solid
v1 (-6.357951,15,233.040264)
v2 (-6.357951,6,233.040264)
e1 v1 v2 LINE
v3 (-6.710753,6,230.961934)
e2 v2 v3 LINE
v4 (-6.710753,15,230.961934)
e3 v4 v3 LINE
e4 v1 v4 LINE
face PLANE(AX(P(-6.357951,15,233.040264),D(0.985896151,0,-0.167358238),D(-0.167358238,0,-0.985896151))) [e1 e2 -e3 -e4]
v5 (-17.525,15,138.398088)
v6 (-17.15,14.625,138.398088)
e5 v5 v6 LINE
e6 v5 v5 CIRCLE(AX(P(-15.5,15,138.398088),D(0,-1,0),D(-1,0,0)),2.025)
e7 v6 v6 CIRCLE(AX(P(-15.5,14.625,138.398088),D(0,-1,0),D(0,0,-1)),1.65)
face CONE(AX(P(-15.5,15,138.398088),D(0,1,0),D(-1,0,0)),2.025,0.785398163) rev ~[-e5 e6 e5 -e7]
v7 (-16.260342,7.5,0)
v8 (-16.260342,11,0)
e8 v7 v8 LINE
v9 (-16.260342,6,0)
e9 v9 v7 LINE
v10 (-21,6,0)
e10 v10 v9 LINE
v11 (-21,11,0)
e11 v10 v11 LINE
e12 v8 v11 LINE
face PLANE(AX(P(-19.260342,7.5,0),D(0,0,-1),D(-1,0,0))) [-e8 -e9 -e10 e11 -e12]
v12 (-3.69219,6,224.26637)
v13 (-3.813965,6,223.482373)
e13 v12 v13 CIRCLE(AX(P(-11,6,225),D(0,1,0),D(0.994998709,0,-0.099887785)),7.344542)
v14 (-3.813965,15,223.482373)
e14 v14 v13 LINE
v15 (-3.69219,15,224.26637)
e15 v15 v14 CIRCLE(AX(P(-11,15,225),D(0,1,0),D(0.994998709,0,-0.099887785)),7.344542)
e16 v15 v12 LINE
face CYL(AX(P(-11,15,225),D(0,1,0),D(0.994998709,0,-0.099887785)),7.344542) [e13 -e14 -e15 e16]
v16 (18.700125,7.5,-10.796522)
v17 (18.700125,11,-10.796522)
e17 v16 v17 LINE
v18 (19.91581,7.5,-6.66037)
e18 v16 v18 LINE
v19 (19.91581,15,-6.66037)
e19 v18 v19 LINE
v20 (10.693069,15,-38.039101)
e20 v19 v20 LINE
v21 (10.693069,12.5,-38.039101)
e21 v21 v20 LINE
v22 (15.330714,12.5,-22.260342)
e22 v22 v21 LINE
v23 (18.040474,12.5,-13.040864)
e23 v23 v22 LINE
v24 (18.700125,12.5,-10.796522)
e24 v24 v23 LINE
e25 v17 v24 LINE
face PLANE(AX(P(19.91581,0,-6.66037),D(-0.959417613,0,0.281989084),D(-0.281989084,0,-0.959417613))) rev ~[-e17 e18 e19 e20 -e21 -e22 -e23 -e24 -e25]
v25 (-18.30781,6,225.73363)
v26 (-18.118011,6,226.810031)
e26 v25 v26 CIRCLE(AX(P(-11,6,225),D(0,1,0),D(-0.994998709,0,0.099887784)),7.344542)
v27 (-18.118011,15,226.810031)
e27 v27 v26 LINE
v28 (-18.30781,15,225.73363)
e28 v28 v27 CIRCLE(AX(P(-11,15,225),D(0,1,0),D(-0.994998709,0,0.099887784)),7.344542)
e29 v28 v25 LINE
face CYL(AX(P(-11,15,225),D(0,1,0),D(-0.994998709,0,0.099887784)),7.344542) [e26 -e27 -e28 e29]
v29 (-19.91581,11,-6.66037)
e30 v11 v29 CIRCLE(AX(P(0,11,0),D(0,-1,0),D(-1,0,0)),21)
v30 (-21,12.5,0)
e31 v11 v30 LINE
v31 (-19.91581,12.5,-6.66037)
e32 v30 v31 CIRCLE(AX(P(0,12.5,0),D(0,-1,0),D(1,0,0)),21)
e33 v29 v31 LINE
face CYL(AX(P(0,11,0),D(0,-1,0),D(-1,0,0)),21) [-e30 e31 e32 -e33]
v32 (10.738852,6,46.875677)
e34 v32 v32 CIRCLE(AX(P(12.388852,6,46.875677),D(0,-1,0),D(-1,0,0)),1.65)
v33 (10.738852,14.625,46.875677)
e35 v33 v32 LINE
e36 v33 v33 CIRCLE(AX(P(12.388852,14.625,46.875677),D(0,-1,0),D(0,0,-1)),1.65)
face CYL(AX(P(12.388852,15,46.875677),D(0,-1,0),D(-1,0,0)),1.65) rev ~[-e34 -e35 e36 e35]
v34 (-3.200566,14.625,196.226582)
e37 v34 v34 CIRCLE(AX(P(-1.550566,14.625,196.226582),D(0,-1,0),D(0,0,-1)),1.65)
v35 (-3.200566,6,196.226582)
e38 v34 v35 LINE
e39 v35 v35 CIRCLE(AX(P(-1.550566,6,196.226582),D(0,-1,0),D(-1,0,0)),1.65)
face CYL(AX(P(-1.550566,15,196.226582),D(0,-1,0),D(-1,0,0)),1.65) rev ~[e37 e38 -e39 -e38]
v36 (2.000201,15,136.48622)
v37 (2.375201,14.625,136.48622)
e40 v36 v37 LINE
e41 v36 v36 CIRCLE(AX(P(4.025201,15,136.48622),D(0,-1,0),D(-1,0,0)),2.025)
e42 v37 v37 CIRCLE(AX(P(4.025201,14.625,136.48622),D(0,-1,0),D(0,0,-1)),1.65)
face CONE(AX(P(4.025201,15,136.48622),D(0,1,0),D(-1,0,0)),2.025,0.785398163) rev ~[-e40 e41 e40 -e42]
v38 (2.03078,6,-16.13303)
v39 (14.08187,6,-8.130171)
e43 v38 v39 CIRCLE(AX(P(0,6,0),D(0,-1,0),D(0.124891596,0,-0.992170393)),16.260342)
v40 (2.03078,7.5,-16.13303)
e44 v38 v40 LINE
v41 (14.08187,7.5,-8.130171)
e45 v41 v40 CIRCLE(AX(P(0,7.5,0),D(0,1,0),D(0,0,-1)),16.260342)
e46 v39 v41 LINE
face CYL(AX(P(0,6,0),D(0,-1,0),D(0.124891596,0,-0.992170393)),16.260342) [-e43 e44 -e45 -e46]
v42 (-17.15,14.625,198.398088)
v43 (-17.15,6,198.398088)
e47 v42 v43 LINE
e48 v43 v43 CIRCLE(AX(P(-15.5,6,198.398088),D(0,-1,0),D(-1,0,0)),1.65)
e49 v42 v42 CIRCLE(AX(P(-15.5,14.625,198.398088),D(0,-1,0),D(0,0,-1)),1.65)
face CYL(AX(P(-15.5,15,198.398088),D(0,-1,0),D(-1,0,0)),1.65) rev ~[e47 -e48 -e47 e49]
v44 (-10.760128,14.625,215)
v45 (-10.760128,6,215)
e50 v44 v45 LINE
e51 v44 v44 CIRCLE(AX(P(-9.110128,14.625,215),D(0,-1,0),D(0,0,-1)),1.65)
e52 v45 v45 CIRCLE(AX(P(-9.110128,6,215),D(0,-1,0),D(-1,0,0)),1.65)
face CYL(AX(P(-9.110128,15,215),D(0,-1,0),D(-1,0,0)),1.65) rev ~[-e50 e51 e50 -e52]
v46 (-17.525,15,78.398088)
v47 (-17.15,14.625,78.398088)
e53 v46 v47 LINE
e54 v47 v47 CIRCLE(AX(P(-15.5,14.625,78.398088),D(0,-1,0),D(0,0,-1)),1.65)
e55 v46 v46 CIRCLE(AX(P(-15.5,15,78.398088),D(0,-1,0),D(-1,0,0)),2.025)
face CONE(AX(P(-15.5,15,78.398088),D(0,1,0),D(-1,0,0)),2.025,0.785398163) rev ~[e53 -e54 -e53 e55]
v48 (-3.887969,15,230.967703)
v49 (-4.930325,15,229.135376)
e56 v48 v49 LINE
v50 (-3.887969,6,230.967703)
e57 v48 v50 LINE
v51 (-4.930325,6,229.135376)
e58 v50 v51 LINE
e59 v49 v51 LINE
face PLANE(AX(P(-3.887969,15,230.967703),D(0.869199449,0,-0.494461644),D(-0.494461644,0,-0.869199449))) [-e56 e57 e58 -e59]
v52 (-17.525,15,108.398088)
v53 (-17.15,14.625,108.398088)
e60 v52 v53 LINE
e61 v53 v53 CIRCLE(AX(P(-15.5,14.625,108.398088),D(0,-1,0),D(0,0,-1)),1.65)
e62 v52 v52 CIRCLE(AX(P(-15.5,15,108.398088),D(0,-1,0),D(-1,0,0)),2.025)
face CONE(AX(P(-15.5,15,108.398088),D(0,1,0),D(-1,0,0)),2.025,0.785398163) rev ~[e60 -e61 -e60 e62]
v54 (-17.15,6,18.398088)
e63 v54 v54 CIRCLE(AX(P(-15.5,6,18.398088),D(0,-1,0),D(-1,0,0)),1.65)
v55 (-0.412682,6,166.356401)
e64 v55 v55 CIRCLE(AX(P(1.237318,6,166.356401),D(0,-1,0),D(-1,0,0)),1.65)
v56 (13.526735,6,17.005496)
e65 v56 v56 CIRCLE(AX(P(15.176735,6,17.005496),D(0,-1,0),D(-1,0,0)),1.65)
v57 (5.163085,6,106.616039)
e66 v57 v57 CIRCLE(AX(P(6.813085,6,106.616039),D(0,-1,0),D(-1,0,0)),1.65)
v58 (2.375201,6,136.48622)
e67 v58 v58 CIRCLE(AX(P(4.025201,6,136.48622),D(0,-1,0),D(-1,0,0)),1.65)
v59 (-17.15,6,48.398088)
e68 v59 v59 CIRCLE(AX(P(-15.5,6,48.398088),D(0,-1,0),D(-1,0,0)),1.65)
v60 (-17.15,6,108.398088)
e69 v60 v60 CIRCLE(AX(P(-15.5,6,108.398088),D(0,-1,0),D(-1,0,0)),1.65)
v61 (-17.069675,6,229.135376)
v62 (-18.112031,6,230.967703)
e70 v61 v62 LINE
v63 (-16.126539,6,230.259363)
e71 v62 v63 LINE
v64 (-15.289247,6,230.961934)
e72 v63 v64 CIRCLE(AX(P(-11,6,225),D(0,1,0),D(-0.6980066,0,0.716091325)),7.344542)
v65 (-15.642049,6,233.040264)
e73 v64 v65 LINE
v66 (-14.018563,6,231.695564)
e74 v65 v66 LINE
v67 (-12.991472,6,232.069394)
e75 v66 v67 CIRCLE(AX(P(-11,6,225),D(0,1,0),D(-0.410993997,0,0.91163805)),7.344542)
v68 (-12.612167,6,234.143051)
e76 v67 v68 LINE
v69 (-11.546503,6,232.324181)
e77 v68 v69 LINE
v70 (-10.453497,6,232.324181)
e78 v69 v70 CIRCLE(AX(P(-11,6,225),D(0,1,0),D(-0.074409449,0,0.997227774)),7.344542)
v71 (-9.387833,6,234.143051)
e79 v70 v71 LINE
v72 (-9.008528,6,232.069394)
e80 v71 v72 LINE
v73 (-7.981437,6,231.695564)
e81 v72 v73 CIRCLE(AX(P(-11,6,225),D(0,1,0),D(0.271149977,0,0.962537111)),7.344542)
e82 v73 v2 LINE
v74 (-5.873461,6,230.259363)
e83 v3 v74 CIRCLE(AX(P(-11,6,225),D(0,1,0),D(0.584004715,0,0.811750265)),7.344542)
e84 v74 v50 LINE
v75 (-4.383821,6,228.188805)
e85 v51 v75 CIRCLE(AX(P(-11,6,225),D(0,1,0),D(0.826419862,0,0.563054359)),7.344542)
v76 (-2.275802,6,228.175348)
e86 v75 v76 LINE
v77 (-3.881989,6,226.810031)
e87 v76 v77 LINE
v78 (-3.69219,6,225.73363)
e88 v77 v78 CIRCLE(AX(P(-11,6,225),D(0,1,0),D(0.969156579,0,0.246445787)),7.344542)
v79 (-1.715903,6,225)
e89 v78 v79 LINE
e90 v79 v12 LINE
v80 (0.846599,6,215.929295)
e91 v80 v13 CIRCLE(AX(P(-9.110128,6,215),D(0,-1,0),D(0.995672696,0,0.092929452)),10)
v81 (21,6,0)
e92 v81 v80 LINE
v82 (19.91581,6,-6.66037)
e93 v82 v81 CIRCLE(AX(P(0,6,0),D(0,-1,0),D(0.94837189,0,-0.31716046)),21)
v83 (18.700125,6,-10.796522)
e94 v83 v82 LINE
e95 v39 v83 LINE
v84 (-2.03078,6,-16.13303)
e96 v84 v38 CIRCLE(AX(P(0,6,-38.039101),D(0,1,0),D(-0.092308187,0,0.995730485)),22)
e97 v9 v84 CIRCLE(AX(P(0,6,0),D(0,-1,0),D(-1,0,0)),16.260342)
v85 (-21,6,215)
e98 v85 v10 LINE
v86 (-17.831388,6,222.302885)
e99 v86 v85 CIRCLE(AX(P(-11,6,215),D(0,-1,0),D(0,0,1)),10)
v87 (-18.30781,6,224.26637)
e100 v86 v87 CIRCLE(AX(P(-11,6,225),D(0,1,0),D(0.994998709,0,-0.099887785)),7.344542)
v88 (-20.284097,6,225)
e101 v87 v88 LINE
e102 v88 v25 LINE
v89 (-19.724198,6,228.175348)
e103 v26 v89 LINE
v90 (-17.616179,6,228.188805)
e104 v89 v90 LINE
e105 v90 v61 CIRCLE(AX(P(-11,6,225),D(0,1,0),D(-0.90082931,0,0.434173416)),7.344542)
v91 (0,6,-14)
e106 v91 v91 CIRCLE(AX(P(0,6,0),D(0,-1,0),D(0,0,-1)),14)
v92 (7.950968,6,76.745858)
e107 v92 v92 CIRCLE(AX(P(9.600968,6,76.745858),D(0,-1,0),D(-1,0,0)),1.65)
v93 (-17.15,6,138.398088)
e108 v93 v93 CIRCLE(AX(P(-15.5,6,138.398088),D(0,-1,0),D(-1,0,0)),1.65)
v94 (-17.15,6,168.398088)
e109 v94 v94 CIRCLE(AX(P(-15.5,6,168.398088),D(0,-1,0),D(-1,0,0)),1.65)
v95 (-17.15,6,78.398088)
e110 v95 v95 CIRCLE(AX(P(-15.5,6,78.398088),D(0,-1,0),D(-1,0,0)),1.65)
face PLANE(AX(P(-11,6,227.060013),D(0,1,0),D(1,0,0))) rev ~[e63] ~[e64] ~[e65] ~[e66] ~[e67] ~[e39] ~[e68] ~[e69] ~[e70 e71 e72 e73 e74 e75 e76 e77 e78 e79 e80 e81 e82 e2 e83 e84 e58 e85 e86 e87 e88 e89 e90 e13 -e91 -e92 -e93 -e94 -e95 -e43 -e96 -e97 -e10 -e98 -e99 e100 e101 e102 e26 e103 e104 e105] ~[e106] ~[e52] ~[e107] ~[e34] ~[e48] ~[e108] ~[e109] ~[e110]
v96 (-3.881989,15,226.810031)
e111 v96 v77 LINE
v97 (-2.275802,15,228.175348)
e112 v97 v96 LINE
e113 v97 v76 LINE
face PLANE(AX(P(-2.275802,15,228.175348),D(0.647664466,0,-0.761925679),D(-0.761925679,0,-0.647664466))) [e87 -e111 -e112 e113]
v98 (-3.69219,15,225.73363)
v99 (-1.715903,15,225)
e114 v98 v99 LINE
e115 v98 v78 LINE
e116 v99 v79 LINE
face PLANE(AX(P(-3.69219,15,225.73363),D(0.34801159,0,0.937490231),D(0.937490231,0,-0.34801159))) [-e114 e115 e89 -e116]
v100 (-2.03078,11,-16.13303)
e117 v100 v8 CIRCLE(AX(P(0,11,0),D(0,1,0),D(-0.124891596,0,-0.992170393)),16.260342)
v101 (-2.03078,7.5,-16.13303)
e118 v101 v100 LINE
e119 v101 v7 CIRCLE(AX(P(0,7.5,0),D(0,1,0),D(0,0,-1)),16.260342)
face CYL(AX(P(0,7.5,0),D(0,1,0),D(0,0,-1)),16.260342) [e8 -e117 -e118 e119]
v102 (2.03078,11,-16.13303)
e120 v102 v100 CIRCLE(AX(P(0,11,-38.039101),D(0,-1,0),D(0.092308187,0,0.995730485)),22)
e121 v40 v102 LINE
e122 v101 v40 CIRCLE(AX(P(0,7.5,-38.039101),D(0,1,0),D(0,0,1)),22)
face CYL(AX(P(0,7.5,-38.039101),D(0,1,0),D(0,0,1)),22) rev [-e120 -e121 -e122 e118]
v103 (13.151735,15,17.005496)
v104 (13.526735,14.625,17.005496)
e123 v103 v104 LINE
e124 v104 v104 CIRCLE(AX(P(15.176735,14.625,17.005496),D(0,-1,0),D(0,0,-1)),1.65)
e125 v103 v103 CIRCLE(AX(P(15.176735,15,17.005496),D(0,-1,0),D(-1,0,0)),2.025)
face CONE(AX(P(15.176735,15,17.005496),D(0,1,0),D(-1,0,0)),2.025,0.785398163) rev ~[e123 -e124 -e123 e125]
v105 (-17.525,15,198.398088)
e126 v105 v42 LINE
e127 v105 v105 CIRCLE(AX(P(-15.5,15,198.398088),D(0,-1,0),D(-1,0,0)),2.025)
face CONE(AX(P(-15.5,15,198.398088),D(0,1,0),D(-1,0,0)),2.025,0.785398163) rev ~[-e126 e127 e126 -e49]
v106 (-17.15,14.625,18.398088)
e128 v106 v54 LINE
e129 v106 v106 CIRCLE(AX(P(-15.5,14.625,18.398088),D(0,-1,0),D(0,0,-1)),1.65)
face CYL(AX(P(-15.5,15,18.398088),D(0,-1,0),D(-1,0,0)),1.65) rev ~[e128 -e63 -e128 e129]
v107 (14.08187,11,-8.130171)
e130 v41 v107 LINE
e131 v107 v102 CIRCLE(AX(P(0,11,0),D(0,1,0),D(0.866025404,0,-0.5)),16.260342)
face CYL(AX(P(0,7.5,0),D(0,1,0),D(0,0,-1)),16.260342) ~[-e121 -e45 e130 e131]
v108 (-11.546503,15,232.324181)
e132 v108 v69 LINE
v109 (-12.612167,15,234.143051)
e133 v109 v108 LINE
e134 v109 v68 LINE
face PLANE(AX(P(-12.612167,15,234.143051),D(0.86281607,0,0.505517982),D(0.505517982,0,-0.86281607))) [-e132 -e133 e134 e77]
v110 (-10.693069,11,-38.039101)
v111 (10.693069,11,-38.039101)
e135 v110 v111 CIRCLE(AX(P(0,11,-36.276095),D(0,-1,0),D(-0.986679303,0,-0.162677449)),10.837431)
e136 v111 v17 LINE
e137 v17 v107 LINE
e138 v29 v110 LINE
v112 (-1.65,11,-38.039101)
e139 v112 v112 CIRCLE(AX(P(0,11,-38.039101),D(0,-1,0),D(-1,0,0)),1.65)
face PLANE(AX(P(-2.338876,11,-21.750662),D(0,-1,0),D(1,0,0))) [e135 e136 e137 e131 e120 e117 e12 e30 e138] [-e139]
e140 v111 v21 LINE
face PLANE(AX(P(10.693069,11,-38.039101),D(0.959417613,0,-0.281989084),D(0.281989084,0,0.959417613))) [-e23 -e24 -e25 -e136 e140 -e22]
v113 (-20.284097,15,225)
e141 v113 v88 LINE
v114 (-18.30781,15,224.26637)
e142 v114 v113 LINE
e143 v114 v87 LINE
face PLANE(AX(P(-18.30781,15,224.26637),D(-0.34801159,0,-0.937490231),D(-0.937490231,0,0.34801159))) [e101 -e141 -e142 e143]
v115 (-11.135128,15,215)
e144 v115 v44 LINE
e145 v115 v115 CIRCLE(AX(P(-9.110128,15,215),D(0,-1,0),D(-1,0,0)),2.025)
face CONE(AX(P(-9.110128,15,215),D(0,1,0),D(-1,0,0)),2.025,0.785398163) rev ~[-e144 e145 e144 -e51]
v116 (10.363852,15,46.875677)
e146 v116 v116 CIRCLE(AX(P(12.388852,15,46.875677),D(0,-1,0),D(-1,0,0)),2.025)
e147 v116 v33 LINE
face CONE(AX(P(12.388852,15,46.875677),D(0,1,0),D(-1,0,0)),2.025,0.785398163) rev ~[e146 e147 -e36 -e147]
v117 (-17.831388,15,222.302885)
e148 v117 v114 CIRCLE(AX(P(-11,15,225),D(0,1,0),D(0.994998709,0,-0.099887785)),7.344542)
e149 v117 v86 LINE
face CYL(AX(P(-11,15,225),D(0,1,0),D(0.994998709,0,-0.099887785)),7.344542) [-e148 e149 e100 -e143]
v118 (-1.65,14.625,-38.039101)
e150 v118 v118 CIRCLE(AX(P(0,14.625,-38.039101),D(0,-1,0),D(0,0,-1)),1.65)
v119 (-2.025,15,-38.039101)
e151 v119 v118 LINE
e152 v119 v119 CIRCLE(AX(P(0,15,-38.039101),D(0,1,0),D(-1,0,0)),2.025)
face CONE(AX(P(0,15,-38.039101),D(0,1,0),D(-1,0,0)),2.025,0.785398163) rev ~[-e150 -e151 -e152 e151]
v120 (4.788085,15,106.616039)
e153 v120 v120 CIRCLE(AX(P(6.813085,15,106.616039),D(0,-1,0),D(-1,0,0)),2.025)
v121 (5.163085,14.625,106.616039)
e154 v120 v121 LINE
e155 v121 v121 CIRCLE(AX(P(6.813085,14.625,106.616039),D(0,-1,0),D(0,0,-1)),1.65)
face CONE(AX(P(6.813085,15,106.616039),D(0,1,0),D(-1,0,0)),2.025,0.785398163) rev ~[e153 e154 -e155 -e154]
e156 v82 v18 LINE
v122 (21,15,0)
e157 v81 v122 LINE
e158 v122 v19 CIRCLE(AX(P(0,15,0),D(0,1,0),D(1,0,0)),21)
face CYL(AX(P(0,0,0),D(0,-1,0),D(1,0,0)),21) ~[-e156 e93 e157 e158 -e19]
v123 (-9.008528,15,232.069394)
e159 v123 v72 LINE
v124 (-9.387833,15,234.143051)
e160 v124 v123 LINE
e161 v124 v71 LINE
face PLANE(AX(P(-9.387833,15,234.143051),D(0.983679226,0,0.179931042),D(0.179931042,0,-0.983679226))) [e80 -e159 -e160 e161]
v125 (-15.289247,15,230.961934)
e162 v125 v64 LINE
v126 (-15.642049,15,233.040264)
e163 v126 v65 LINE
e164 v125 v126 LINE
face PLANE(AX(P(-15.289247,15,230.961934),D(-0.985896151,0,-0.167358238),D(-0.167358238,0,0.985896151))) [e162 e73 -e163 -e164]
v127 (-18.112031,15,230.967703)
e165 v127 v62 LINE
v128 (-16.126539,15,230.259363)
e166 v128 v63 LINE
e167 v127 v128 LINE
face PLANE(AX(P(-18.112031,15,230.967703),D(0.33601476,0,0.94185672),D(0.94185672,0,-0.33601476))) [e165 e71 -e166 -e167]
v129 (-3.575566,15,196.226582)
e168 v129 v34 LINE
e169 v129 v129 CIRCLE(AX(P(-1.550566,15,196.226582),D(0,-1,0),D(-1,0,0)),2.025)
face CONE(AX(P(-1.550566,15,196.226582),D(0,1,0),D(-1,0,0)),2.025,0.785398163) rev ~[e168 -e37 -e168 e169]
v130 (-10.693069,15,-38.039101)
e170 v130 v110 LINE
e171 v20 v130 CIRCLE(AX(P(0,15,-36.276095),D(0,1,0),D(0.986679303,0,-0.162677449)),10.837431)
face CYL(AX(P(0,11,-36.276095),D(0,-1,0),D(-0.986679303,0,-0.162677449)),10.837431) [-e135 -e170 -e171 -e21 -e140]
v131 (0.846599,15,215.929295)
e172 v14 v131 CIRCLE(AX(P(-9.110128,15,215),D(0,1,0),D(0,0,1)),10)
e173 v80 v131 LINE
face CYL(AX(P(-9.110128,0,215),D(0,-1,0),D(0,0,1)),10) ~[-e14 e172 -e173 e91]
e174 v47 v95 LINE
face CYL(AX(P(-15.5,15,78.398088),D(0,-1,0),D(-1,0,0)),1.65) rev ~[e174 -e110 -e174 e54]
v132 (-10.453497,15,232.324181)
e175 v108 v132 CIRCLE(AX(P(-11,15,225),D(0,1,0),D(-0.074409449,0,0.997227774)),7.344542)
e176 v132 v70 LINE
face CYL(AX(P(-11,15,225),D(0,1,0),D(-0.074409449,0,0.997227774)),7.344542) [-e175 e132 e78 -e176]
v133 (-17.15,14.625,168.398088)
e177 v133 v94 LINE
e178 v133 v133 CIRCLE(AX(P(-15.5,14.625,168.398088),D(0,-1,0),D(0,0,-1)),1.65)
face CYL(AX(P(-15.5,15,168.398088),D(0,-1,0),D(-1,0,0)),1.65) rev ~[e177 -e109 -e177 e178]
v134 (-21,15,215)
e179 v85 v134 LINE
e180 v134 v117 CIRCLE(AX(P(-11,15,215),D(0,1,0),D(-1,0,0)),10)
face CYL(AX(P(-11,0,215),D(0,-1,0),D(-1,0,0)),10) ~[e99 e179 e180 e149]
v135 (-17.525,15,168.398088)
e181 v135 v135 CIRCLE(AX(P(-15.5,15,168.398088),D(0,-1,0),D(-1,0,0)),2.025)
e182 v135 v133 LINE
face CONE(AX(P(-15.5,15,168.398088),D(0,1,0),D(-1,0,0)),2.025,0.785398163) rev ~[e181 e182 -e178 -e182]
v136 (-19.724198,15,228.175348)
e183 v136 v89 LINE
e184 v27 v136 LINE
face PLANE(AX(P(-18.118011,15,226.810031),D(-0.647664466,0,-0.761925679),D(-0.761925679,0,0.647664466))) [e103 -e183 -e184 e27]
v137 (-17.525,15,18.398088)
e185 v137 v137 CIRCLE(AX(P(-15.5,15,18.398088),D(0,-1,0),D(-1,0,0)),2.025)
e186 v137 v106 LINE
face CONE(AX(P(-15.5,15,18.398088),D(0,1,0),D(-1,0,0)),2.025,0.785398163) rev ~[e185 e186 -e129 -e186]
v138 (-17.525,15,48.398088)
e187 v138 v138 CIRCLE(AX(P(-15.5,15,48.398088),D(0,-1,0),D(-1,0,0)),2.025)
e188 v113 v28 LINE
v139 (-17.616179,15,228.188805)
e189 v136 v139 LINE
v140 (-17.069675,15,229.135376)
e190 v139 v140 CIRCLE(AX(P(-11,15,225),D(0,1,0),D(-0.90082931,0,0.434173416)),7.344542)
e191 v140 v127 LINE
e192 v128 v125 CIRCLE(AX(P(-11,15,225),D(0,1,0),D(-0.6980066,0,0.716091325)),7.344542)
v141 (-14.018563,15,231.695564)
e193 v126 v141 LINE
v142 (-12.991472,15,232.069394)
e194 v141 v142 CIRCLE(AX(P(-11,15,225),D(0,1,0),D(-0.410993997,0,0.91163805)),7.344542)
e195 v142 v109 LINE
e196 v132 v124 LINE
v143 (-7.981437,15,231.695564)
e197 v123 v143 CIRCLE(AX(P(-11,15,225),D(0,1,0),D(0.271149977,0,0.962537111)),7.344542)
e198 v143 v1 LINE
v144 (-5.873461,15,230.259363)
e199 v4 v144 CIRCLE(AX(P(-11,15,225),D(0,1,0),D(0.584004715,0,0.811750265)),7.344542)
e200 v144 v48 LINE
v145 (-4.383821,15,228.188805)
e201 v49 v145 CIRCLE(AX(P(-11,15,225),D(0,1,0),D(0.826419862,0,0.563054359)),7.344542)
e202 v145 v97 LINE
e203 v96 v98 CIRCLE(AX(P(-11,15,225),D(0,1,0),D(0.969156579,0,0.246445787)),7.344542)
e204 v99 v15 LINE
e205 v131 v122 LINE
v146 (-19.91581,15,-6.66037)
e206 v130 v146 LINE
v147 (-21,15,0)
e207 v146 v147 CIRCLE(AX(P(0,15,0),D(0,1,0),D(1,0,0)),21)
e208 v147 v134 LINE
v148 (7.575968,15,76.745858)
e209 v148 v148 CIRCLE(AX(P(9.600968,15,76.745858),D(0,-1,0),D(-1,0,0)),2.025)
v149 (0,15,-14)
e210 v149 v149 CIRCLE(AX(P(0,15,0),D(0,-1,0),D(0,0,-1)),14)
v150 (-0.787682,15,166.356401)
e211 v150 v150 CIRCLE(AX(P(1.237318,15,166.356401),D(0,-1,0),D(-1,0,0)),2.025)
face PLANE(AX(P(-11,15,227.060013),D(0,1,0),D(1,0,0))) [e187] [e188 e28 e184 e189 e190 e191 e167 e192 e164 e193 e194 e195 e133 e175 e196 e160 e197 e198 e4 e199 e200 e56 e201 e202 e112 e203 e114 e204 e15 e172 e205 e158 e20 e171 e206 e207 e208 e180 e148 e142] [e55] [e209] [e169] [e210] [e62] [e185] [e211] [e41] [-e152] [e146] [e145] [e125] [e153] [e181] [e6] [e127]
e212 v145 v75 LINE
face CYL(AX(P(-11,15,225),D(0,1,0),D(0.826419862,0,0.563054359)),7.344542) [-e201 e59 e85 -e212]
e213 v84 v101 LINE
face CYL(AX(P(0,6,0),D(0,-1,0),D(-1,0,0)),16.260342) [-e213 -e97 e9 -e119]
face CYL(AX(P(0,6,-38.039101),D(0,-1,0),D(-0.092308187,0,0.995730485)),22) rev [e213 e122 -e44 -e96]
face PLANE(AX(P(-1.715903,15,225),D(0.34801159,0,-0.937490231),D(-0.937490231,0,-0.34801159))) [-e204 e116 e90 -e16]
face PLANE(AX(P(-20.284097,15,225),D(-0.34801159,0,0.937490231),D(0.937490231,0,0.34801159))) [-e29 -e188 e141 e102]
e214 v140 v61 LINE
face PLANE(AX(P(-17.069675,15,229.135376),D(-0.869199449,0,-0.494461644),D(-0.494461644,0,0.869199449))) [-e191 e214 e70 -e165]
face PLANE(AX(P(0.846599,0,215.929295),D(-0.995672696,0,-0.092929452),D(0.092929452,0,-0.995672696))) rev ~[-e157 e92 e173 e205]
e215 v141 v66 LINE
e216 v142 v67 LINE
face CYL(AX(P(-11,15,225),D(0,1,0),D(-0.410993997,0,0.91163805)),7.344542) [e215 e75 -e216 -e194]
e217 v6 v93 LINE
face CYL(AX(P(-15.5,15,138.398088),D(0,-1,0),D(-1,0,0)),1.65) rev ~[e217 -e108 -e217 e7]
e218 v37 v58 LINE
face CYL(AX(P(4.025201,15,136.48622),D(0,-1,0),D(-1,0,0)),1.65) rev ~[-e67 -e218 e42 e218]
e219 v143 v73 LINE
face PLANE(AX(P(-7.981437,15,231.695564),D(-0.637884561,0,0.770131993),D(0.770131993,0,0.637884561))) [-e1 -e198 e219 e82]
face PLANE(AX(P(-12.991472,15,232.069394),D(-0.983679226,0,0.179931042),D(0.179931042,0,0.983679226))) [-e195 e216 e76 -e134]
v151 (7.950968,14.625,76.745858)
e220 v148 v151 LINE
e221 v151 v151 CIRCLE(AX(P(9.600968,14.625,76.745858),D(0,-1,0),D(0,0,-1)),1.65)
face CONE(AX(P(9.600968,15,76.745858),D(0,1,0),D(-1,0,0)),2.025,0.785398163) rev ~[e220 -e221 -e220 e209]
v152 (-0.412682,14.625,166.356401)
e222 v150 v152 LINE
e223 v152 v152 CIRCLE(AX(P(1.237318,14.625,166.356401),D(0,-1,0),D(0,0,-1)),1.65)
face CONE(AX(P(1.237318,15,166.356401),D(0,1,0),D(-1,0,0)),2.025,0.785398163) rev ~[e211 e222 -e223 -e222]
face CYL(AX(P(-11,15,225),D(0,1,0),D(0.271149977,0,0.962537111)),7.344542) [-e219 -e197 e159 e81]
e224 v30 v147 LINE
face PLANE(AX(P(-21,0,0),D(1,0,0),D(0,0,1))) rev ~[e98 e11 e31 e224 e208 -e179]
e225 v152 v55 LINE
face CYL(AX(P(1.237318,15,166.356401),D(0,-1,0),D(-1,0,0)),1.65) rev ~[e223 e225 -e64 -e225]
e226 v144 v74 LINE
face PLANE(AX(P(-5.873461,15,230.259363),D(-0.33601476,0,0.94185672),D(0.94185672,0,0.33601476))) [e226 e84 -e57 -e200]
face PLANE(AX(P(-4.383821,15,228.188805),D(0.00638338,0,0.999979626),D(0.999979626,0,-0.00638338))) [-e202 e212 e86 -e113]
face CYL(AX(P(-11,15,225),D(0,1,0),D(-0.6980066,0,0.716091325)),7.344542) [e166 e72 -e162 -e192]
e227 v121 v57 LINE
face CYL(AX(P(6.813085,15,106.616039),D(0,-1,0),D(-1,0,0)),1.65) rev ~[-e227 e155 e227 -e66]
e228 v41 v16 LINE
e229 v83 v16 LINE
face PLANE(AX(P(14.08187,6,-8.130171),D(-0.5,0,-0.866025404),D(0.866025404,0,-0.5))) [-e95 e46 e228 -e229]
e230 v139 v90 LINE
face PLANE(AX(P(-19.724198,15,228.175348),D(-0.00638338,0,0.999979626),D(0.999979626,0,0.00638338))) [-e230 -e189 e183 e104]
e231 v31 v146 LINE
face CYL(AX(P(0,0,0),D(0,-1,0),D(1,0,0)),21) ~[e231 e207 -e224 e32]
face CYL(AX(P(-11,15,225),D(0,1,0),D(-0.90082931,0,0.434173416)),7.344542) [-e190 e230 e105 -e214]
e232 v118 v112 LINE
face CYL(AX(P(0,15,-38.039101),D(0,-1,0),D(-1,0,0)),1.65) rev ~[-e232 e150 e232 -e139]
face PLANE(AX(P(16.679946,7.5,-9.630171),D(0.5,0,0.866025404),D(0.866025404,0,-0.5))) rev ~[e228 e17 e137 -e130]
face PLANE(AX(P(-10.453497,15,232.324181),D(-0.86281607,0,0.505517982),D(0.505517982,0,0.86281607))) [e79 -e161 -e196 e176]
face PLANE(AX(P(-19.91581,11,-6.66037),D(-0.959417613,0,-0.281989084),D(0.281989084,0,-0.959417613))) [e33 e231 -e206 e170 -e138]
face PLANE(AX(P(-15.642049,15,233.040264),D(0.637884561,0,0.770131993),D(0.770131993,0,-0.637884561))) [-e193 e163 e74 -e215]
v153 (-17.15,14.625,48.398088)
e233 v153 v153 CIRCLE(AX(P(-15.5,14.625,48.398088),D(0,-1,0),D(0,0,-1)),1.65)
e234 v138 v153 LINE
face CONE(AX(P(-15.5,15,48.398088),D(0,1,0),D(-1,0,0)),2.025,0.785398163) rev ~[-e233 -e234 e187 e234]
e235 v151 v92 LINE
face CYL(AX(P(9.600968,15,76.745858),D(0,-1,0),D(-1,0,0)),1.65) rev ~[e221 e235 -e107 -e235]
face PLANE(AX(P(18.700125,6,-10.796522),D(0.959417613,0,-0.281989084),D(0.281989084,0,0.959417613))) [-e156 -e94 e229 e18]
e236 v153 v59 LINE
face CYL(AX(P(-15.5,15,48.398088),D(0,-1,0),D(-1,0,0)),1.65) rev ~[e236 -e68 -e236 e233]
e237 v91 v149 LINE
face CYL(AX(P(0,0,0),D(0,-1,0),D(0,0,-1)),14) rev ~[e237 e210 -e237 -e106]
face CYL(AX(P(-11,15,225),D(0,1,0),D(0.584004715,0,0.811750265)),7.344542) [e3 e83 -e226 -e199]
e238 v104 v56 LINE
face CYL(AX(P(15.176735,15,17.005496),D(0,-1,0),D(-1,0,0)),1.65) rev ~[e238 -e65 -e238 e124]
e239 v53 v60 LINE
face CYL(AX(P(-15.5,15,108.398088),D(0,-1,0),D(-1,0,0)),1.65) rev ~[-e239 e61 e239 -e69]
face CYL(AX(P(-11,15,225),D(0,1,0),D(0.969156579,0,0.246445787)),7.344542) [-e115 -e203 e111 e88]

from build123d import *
from build123d.topology import SkipClean

# Parameters (mm, degrees)
EXTRUDE_1_DEPTH               = 15
CUT_EXTRUDE_1_DEPTH           = 4
SKETCH_3_R                    = 14
CUT_EXTRUDE_2_DEPTH           = 227.475164201
EXTRUDE_4_DEPTH               = 15
SKETCH_11_W                   = 17
SKETCH_11_H                   = 10
SKETCH_14_W                   = 6
SKETCH_14_H                   = 10
CUT_REVOLVE_4_ANGLE           = 60
CUT_REVOLVE_4_OTHER_WAY_ANGLE = 90
SKETCH_16_W                   = 9.609453317
SKETCH_16_H                   = 10
CUT_EXTRUDE_4_DEPTH           = 5
SKETCH_17_W                   = 9.609453317
SKETCH_17_H                   = 10
CUT_EXTRUDE_5_DEPTH           = 5
CUT_EXTRUDE_6_DEPTH           = 7.5
EXTRUDE_START                 = 1.5
EXTRUDE_6_DEPTH               = 1.5
SKETCH_21_R                   = 5
SKETCH_21_R_2                 = 14
EXTRUDE_7_DEPTH               = 1.5
HOLE_WIZARD_M4_1_D            = 3.3
HOLE_WIZARD_M4_1_DEPTH        = 9
HOLE_WIZARD_M4_1_CSINK_D      = 4.05
HOLE_WIZARD_M4_1_CSINK_ANGLE  = 90
SKETCH_25_R                   = 5
CUT_EXTRUDE_7_DEPTH           = 5
EXTRUDE_8_DEPTH               = 9


with BuildPart() as part:
    # 草图1 → 凸台-拉伸1 (new body)
    with BuildSketch(Plane(origin=(0, 0, 0), x_dir=(1, 0, 0), z_dir=(0, 1, 0))):
        with BuildLine():
            Line((-21, 0), (-21, -215))
            ThreePointArc((-21, -215), (-18.071067812, -222.071067812), (-11, -225))
            Line((-11, -225), (-9.110127779, -225))
            ThreePointArc((-9.110127779, -225), (-2.375625019, -222.392325249), (0.846599179, -215.929294516))
            Line((0.846599179, -215.929294516), (21, 0))
            ThreePointArc((21, 0), (0, 21), (-21, 0))
        make_face()
    extrude(amount=EXTRUDE_1_DEPTH)

    # 草图2 → 切除-拉伸1 (cut)
    with BuildSketch(Plane.XZ):
        with BuildLine():
            Line((-6.487547308, 24.545681698), (-15.16946684, 197.954199749))
            ThreePointArc((-15.16946684, 197.954199749), (-9.006726896, 204.766554422), (-2.194372223, 198.603814478))
            Line((-2.194372223, 198.603814478), (6.487547308, 25.195296427))
            ThreePointArc((6.487547308, 25.195296427), (0.324807364, 18.382941754), (-6.487547308, 24.545681698))
        make_face()
    extrude(amount=-CUT_EXTRUDE_1_DEPTH, mode=Mode.SUBTRACT)

    # 草图3 → 切除-拉伸2 (cut, through all)
    with BuildSketch(Plane(origin=(0, 0, 0), x_dir=(-1, 0, 0), z_dir=(0, -1, 0))):
        with Locations(Location((0, 0, 0), (0, 0, 90))):
            Circle(SKETCH_3_R)
    extrude(amount=-CUT_EXTRUDE_2_DEPTH, mode=Mode.SUBTRACT)

    # 草图7 → 凸台-拉伸4 (add)
    with BuildSketch(Plane(origin=(0, 0, 0), x_dir=(1, 0, 0), z_dir=(0, 1, 0))):
        with BuildLine():
            Line((-10.693069191, 38.039100971), (-19.9158097, 6.66036966))
            ThreePointArc((-19.9158097, 6.66036966), (0, 21), (19.9158097, 6.66036966))
            Line((19.9158097, 6.66036966), (10.693069191, 38.039100971))
            ThreePointArc((10.693069191, 38.039100971), (0, 47.113526612), (-10.693069191, 38.039100971))
        make_face()
    extrude(amount=EXTRUDE_4_DEPTH)

    # 草图11 → 切除-旋转3 (revolve, cut)
    with BuildSketch(Plane(origin=(0, 0, 0), x_dir=(0, 0, -1), z_dir=(1, 0, 0)), mode=Mode.PRIVATE) as cut_revolve_3_sk:
        with Locations((51.539100971, 7.5)):
            Rectangle(SKETCH_11_W, SKETCH_11_H)
    revolve(cut_revolve_3_sk.sketch.rotate(Axis((0, 15, -38.039100971), (0, -1, 0)), 180), axis=Axis((0, 15, -38.039100971), (0, -1, 0)), mode=Mode.SUBTRACT)

    # 草图14 → 切除-旋转4 (revolve, cut)
    with BuildSketch(Plane(origin=(0, 0, 0), x_dir=(0, 0, -1), z_dir=(1, 0, 0))):
        with Locations((19.26034239, 7.5)):
            Rectangle(SKETCH_14_W, SKETCH_14_H)
    revolve(axis=Axis((0, 15, 0), (0, -1, 0)), revolution_arc=CUT_REVOLVE_4_ANGLE, mode=Mode.SUBTRACT)

    # 草图14 → 切除-旋转4 other way (revolve, cut)
    with BuildSketch(Plane(origin=(0, 0, 0), x_dir=(0, 0, -1), z_dir=(1, 0, 0))):
        with Locations((19.26034239, 7.5)):
            Rectangle(SKETCH_14_W, SKETCH_14_H)
    revolve(axis=Axis((0, 15, 0), (0, 1, 0)), revolution_arc=CUT_REVOLVE_4_OTHER_WAY_ANGLE, mode=Mode.SUBTRACT)

    # 草图16 → 切除-拉伸4 (cut)
    with BuildSketch(Plane(origin=(20.13407913, 0, -5.917746812), x_dir=(-0.2819890835944097, 0, -0.9594176133121516), z_dir=(0.9594176133121516, 0, -0.2819890835944097))):
        with Locations((12.229144047, 7.5)):
            Rectangle(SKETCH_16_W, SKETCH_16_H)
    extrude(amount=-CUT_EXTRUDE_4_DEPTH, mode=Mode.SUBTRACT)

    # 草图17 → 切除-拉伸5 (cut)
    with BuildSketch(Plane(origin=(-20.13407913, 0, -5.917746812), x_dir=(-0.28198908359441, 0, 0.9594176133121515), z_dir=(-0.9594176133121515, 0, -0.28198908359441))):
        with Locations((-12.229144047, 7.5)):
            Rectangle(SKETCH_17_W, SKETCH_17_H)
    extrude(amount=-CUT_EXTRUDE_5_DEPTH, mode=Mode.SUBTRACT)

    # 草图20 → 切除-拉伸6 (cut)
    with BuildSketch(Plane.XZ):
        with BuildLine():
            Line((21, 0), (0.846599179, 215.929294516))
            ThreePointArc((0.846599179, 215.929294516), (-2.375625019, 222.392325249), (-9.110127779, 225))
            Line((-9.110127779, 225), (-11, 225))
            ThreePointArc((-11, 225), (-18.071067812, 222.071067812), (-21, 215))
            Line((-21, 215), (-21, 0))
            ThreePointArc((-21, 0), (-20.727180268, -3.374018102), (-19.9158097, -6.66036966))
            Line((-19.9158097, -6.66036966), (-10.693069191, -38.039100971))
            ThreePointArc((-10.693069191, -38.039100971), (0, -47.113526612), (10.693069191, -38.039100971))
            Line((10.693069191, -38.039100971), (19.9158097, -6.66036966))
            ThreePointArc((19.9158097, -6.66036966), (20.727180268, -3.374018102), (21, 0))
        make_face()
    extrude(amount=-CUT_EXTRUDE_6_DEPTH, mode=Mode.SUBTRACT)

    # 草图22 → 凸台-拉伸6 (add)
    with BuildSketch(Plane.XZ.offset(-12.5).offset(EXTRUDE_START)):
        with BuildLine():
            Line((-19.9158097, -6.66036966), (-10.693069191, -38.039100971))
            ThreePointArc((-10.693069191, -38.039100971), (0, -47.113526612), (10.693069191, -38.039100971))
            Line((10.693069191, -38.039100971), (18.700124508, -10.796521919))
            Line((18.700124508, -10.796521919), (14.081869584, -8.130171195))
            ThreePointArc((14.081869584, -8.130171195), (8.995321483, -13.545586959), (2.030780118, -16.133030303))
            ThreePointArc((2.030780118, -16.133030303), (0, -16.039100971), (-2.030780118, -16.133030303))
            ThreePointArc((-2.030780118, -16.133030303), (-12.194669218, -10.755871759), (-16.26034239, 0))
            Line((-16.26034239, 0), (-21, 0))
            ThreePointArc((-21, 0), (-20.727180268, -3.374018102), (-19.9158097, -6.66036966))
        make_face()
    extrude(amount=-EXTRUDE_6_DEPTH)

    # 草图21 → 凸台-拉伸7 (add)
    # profile 1 of 2: a face of its own
    with SkipClean():  # the faces are left unmerged after this step: merging them gives an invalid solid
        with BuildSketch(Plane.XZ.offset(-7.5).offset(EXTRUDE_START)):
            with Locations(Location((0, -38.039100971, 0), (0, 0, 270))):
                Circle(SKETCH_21_R)
        # profile 2 of 2: a face of its own
        with BuildSketch(Plane.XZ.offset(-7.5).offset(EXTRUDE_START)):
            with BuildLine():
                Line((-21, 0), (-16.26034239, 0))
                ThreePointArc((-16.26034239, 0), (-12.194669218, -10.755871759), (-2.030780118, -16.133030303))
                ThreePointArc((-2.030780118, -16.133030303), (0, -16.039100971), (2.030780118, -16.133030303))
                ThreePointArc((2.030780118, -16.133030303), (8.995321483, -13.545586959), (14.081869584, -8.130171195))
                Line((14.081869584, -8.130171195), (18.700124508, -10.796521919))
                Line((18.700124508, -10.796521919), (19.9158097, -6.66036966))
                ThreePointArc((19.9158097, -6.66036966), (20.727180268, -3.374018102), (21, 0))
                Line((21, 0), (0.846599179, 215.929294516))
                ThreePointArc((0.846599179, 215.929294516), (-2.375625019, 222.392325249), (-9.110127779, 225))
                Line((-9.110127779, 225), (-11, 225))
                ThreePointArc((-11, 225), (-18.071067812, 222.071067812), (-21, 215))
                Line((-21, 215), (-21, 0))
            make_face()
            with Locations(Location((0, 0, 0), (0, 0, 270))):
                Circle(SKETCH_21_R_2, mode=Mode.SUBTRACT)
        extrude(amount=-EXTRUDE_7_DEPTH)

    # M4 螺纹孔1
    with Locations(Plane(origin=(0, 15, 0), x_dir=(1, 0, 0), z_dir=(0, 1, 0))):
        with Locations((-1.550565844, -196.226581502), (-4.338449392, -226.096762374), (-9.110127779, -215), (15.176735444, -17.005496271), (0, 38.039100971), (-15.5, -18.398087501), (-15.5, -48.398087501), (-15.5, -78.398087501), (-15.5, -108.398087501), (-15.5, -138.398087501), (-15.5, -168.398087501), (-15.5, -198.398087501), (12.388851896, -46.875677143), (9.600968348, -76.745858014), (6.8130848, -106.616038886), (4.025201252, -136.486219758), (1.237317704, -166.35640063)):
            CounterSinkHole(HOLE_WIZARD_M4_1_D / 2, HOLE_WIZARD_M4_1_CSINK_D / 2, depth=HOLE_WIZARD_M4_1_DEPTH, counter_sink_angle=HOLE_WIZARD_M4_1_CSINK_ANGLE)

    # 草图25 → 切除-拉伸7 (cut)
    with BuildSketch(Plane.XZ.offset(-6)):
        with Locations((0, -38.039100971)):
            Circle(SKETCH_25_R)
    extrude(amount=-CUT_EXTRUDE_7_DEPTH, mode=Mode.SUBTRACT)

    # 草图26 → 凸台-拉伸8 (add)
    with BuildSketch(Plane(origin=(0, 15, 0), x_dir=(1, 0, 0), z_dir=(0, 1, 0))):
        with BuildLine():
            Line((-18.307809651, -224.266369979), (-20.284097218, -225))
            Line((-20.284097218, -225), (-18.307809651, -225.733630021))
            ThreePointArc((-18.307809651, -225.733630021), (-18.232961751, -226.275366307), (-18.118011048, -226.810031388))
            Line((-18.118011048, -226.810031388), (-19.724197646, -228.175348261))
            Line((-19.724197646, -228.175348261), (-17.616178559, -228.188804821))
            ThreePointArc((-17.616178559, -228.188804821), (-17.360559817, -228.672270922), (-17.069675262, -229.135376297))
            Line((-17.069675262, -229.135376297), (-18.112031083, -230.967702659))
            Line((-18.112031083, -230.967702659), (-16.126538687, -230.259362699))
            ThreePointArc((-16.126538687, -230.259362699), (-15.720980497, -230.626245467), (-15.289247061, -230.961933794))
            Line((-15.289247061, -230.961933794), (-15.642048609, -233.040264042))
            Line((-15.642048609, -233.040264042), (-14.018562591, -231.695563814))
            ThreePointArc((-14.018562591, -231.695563814), (-13.511981254, -231.901611775), (-12.991472361, -232.069394086))
            Line((-12.991472361, -232.069394086), (-12.612166563, -234.14305092))
            Line((-12.612166563, -234.14305092), (-11.546503297, -232.324181118))
            ThreePointArc((-11.546503297, -232.324181118), (-11, -232.344541845), (-10.453496703, -232.324181118))
            Line((-10.453496703, -232.324181118), (-9.387833437, -234.14305092))
            Line((-9.387833437, -234.14305092), (-9.008527639, -232.069394086))
            ThreePointArc((-9.008527639, -232.069394086), (-8.488018746, -231.901611775), (-7.981437409, -231.695563814))
            Line((-7.981437409, -231.695563814), (-6.357951391, -233.040264042))
            Line((-6.357951391, -233.040264042), (-6.710752939, -230.961933794))
            ThreePointArc((-6.710752939, -230.961933794), (-6.279019503, -230.626245467), (-5.873461313, -230.259362699))
            Line((-5.873461313, -230.259362699), (-3.887968917, -230.967702659))
            Line((-3.887968917, -230.967702659), (-4.930324738, -229.135376297))
            ThreePointArc((-4.930324738, -229.135376297), (-4.639440183, -228.672270922), (-4.383821441, -228.188804821))
            Line((-4.383821441, -228.188804821), (-2.275802354, -228.175348261))
            Line((-2.275802354, -228.175348261), (-3.881988952, -226.810031388))
            ThreePointArc((-3.881988952, -226.810031388), (-3.767038249, -226.275366307), (-3.692190349, -225.733630021))
            Line((-3.692190349, -225.733630021), (-1.715902782, -225))
            Line((-1.715902782, -225), (-3.692190349, -224.266369979))
            ThreePointArc((-3.692190349, -224.266369979), (-11, -217.655458155), (-18.307809651, -224.266369979))
        make_face()
    extrude(amount=-EXTRUDE_8_DEPTH)


solid = part.part
